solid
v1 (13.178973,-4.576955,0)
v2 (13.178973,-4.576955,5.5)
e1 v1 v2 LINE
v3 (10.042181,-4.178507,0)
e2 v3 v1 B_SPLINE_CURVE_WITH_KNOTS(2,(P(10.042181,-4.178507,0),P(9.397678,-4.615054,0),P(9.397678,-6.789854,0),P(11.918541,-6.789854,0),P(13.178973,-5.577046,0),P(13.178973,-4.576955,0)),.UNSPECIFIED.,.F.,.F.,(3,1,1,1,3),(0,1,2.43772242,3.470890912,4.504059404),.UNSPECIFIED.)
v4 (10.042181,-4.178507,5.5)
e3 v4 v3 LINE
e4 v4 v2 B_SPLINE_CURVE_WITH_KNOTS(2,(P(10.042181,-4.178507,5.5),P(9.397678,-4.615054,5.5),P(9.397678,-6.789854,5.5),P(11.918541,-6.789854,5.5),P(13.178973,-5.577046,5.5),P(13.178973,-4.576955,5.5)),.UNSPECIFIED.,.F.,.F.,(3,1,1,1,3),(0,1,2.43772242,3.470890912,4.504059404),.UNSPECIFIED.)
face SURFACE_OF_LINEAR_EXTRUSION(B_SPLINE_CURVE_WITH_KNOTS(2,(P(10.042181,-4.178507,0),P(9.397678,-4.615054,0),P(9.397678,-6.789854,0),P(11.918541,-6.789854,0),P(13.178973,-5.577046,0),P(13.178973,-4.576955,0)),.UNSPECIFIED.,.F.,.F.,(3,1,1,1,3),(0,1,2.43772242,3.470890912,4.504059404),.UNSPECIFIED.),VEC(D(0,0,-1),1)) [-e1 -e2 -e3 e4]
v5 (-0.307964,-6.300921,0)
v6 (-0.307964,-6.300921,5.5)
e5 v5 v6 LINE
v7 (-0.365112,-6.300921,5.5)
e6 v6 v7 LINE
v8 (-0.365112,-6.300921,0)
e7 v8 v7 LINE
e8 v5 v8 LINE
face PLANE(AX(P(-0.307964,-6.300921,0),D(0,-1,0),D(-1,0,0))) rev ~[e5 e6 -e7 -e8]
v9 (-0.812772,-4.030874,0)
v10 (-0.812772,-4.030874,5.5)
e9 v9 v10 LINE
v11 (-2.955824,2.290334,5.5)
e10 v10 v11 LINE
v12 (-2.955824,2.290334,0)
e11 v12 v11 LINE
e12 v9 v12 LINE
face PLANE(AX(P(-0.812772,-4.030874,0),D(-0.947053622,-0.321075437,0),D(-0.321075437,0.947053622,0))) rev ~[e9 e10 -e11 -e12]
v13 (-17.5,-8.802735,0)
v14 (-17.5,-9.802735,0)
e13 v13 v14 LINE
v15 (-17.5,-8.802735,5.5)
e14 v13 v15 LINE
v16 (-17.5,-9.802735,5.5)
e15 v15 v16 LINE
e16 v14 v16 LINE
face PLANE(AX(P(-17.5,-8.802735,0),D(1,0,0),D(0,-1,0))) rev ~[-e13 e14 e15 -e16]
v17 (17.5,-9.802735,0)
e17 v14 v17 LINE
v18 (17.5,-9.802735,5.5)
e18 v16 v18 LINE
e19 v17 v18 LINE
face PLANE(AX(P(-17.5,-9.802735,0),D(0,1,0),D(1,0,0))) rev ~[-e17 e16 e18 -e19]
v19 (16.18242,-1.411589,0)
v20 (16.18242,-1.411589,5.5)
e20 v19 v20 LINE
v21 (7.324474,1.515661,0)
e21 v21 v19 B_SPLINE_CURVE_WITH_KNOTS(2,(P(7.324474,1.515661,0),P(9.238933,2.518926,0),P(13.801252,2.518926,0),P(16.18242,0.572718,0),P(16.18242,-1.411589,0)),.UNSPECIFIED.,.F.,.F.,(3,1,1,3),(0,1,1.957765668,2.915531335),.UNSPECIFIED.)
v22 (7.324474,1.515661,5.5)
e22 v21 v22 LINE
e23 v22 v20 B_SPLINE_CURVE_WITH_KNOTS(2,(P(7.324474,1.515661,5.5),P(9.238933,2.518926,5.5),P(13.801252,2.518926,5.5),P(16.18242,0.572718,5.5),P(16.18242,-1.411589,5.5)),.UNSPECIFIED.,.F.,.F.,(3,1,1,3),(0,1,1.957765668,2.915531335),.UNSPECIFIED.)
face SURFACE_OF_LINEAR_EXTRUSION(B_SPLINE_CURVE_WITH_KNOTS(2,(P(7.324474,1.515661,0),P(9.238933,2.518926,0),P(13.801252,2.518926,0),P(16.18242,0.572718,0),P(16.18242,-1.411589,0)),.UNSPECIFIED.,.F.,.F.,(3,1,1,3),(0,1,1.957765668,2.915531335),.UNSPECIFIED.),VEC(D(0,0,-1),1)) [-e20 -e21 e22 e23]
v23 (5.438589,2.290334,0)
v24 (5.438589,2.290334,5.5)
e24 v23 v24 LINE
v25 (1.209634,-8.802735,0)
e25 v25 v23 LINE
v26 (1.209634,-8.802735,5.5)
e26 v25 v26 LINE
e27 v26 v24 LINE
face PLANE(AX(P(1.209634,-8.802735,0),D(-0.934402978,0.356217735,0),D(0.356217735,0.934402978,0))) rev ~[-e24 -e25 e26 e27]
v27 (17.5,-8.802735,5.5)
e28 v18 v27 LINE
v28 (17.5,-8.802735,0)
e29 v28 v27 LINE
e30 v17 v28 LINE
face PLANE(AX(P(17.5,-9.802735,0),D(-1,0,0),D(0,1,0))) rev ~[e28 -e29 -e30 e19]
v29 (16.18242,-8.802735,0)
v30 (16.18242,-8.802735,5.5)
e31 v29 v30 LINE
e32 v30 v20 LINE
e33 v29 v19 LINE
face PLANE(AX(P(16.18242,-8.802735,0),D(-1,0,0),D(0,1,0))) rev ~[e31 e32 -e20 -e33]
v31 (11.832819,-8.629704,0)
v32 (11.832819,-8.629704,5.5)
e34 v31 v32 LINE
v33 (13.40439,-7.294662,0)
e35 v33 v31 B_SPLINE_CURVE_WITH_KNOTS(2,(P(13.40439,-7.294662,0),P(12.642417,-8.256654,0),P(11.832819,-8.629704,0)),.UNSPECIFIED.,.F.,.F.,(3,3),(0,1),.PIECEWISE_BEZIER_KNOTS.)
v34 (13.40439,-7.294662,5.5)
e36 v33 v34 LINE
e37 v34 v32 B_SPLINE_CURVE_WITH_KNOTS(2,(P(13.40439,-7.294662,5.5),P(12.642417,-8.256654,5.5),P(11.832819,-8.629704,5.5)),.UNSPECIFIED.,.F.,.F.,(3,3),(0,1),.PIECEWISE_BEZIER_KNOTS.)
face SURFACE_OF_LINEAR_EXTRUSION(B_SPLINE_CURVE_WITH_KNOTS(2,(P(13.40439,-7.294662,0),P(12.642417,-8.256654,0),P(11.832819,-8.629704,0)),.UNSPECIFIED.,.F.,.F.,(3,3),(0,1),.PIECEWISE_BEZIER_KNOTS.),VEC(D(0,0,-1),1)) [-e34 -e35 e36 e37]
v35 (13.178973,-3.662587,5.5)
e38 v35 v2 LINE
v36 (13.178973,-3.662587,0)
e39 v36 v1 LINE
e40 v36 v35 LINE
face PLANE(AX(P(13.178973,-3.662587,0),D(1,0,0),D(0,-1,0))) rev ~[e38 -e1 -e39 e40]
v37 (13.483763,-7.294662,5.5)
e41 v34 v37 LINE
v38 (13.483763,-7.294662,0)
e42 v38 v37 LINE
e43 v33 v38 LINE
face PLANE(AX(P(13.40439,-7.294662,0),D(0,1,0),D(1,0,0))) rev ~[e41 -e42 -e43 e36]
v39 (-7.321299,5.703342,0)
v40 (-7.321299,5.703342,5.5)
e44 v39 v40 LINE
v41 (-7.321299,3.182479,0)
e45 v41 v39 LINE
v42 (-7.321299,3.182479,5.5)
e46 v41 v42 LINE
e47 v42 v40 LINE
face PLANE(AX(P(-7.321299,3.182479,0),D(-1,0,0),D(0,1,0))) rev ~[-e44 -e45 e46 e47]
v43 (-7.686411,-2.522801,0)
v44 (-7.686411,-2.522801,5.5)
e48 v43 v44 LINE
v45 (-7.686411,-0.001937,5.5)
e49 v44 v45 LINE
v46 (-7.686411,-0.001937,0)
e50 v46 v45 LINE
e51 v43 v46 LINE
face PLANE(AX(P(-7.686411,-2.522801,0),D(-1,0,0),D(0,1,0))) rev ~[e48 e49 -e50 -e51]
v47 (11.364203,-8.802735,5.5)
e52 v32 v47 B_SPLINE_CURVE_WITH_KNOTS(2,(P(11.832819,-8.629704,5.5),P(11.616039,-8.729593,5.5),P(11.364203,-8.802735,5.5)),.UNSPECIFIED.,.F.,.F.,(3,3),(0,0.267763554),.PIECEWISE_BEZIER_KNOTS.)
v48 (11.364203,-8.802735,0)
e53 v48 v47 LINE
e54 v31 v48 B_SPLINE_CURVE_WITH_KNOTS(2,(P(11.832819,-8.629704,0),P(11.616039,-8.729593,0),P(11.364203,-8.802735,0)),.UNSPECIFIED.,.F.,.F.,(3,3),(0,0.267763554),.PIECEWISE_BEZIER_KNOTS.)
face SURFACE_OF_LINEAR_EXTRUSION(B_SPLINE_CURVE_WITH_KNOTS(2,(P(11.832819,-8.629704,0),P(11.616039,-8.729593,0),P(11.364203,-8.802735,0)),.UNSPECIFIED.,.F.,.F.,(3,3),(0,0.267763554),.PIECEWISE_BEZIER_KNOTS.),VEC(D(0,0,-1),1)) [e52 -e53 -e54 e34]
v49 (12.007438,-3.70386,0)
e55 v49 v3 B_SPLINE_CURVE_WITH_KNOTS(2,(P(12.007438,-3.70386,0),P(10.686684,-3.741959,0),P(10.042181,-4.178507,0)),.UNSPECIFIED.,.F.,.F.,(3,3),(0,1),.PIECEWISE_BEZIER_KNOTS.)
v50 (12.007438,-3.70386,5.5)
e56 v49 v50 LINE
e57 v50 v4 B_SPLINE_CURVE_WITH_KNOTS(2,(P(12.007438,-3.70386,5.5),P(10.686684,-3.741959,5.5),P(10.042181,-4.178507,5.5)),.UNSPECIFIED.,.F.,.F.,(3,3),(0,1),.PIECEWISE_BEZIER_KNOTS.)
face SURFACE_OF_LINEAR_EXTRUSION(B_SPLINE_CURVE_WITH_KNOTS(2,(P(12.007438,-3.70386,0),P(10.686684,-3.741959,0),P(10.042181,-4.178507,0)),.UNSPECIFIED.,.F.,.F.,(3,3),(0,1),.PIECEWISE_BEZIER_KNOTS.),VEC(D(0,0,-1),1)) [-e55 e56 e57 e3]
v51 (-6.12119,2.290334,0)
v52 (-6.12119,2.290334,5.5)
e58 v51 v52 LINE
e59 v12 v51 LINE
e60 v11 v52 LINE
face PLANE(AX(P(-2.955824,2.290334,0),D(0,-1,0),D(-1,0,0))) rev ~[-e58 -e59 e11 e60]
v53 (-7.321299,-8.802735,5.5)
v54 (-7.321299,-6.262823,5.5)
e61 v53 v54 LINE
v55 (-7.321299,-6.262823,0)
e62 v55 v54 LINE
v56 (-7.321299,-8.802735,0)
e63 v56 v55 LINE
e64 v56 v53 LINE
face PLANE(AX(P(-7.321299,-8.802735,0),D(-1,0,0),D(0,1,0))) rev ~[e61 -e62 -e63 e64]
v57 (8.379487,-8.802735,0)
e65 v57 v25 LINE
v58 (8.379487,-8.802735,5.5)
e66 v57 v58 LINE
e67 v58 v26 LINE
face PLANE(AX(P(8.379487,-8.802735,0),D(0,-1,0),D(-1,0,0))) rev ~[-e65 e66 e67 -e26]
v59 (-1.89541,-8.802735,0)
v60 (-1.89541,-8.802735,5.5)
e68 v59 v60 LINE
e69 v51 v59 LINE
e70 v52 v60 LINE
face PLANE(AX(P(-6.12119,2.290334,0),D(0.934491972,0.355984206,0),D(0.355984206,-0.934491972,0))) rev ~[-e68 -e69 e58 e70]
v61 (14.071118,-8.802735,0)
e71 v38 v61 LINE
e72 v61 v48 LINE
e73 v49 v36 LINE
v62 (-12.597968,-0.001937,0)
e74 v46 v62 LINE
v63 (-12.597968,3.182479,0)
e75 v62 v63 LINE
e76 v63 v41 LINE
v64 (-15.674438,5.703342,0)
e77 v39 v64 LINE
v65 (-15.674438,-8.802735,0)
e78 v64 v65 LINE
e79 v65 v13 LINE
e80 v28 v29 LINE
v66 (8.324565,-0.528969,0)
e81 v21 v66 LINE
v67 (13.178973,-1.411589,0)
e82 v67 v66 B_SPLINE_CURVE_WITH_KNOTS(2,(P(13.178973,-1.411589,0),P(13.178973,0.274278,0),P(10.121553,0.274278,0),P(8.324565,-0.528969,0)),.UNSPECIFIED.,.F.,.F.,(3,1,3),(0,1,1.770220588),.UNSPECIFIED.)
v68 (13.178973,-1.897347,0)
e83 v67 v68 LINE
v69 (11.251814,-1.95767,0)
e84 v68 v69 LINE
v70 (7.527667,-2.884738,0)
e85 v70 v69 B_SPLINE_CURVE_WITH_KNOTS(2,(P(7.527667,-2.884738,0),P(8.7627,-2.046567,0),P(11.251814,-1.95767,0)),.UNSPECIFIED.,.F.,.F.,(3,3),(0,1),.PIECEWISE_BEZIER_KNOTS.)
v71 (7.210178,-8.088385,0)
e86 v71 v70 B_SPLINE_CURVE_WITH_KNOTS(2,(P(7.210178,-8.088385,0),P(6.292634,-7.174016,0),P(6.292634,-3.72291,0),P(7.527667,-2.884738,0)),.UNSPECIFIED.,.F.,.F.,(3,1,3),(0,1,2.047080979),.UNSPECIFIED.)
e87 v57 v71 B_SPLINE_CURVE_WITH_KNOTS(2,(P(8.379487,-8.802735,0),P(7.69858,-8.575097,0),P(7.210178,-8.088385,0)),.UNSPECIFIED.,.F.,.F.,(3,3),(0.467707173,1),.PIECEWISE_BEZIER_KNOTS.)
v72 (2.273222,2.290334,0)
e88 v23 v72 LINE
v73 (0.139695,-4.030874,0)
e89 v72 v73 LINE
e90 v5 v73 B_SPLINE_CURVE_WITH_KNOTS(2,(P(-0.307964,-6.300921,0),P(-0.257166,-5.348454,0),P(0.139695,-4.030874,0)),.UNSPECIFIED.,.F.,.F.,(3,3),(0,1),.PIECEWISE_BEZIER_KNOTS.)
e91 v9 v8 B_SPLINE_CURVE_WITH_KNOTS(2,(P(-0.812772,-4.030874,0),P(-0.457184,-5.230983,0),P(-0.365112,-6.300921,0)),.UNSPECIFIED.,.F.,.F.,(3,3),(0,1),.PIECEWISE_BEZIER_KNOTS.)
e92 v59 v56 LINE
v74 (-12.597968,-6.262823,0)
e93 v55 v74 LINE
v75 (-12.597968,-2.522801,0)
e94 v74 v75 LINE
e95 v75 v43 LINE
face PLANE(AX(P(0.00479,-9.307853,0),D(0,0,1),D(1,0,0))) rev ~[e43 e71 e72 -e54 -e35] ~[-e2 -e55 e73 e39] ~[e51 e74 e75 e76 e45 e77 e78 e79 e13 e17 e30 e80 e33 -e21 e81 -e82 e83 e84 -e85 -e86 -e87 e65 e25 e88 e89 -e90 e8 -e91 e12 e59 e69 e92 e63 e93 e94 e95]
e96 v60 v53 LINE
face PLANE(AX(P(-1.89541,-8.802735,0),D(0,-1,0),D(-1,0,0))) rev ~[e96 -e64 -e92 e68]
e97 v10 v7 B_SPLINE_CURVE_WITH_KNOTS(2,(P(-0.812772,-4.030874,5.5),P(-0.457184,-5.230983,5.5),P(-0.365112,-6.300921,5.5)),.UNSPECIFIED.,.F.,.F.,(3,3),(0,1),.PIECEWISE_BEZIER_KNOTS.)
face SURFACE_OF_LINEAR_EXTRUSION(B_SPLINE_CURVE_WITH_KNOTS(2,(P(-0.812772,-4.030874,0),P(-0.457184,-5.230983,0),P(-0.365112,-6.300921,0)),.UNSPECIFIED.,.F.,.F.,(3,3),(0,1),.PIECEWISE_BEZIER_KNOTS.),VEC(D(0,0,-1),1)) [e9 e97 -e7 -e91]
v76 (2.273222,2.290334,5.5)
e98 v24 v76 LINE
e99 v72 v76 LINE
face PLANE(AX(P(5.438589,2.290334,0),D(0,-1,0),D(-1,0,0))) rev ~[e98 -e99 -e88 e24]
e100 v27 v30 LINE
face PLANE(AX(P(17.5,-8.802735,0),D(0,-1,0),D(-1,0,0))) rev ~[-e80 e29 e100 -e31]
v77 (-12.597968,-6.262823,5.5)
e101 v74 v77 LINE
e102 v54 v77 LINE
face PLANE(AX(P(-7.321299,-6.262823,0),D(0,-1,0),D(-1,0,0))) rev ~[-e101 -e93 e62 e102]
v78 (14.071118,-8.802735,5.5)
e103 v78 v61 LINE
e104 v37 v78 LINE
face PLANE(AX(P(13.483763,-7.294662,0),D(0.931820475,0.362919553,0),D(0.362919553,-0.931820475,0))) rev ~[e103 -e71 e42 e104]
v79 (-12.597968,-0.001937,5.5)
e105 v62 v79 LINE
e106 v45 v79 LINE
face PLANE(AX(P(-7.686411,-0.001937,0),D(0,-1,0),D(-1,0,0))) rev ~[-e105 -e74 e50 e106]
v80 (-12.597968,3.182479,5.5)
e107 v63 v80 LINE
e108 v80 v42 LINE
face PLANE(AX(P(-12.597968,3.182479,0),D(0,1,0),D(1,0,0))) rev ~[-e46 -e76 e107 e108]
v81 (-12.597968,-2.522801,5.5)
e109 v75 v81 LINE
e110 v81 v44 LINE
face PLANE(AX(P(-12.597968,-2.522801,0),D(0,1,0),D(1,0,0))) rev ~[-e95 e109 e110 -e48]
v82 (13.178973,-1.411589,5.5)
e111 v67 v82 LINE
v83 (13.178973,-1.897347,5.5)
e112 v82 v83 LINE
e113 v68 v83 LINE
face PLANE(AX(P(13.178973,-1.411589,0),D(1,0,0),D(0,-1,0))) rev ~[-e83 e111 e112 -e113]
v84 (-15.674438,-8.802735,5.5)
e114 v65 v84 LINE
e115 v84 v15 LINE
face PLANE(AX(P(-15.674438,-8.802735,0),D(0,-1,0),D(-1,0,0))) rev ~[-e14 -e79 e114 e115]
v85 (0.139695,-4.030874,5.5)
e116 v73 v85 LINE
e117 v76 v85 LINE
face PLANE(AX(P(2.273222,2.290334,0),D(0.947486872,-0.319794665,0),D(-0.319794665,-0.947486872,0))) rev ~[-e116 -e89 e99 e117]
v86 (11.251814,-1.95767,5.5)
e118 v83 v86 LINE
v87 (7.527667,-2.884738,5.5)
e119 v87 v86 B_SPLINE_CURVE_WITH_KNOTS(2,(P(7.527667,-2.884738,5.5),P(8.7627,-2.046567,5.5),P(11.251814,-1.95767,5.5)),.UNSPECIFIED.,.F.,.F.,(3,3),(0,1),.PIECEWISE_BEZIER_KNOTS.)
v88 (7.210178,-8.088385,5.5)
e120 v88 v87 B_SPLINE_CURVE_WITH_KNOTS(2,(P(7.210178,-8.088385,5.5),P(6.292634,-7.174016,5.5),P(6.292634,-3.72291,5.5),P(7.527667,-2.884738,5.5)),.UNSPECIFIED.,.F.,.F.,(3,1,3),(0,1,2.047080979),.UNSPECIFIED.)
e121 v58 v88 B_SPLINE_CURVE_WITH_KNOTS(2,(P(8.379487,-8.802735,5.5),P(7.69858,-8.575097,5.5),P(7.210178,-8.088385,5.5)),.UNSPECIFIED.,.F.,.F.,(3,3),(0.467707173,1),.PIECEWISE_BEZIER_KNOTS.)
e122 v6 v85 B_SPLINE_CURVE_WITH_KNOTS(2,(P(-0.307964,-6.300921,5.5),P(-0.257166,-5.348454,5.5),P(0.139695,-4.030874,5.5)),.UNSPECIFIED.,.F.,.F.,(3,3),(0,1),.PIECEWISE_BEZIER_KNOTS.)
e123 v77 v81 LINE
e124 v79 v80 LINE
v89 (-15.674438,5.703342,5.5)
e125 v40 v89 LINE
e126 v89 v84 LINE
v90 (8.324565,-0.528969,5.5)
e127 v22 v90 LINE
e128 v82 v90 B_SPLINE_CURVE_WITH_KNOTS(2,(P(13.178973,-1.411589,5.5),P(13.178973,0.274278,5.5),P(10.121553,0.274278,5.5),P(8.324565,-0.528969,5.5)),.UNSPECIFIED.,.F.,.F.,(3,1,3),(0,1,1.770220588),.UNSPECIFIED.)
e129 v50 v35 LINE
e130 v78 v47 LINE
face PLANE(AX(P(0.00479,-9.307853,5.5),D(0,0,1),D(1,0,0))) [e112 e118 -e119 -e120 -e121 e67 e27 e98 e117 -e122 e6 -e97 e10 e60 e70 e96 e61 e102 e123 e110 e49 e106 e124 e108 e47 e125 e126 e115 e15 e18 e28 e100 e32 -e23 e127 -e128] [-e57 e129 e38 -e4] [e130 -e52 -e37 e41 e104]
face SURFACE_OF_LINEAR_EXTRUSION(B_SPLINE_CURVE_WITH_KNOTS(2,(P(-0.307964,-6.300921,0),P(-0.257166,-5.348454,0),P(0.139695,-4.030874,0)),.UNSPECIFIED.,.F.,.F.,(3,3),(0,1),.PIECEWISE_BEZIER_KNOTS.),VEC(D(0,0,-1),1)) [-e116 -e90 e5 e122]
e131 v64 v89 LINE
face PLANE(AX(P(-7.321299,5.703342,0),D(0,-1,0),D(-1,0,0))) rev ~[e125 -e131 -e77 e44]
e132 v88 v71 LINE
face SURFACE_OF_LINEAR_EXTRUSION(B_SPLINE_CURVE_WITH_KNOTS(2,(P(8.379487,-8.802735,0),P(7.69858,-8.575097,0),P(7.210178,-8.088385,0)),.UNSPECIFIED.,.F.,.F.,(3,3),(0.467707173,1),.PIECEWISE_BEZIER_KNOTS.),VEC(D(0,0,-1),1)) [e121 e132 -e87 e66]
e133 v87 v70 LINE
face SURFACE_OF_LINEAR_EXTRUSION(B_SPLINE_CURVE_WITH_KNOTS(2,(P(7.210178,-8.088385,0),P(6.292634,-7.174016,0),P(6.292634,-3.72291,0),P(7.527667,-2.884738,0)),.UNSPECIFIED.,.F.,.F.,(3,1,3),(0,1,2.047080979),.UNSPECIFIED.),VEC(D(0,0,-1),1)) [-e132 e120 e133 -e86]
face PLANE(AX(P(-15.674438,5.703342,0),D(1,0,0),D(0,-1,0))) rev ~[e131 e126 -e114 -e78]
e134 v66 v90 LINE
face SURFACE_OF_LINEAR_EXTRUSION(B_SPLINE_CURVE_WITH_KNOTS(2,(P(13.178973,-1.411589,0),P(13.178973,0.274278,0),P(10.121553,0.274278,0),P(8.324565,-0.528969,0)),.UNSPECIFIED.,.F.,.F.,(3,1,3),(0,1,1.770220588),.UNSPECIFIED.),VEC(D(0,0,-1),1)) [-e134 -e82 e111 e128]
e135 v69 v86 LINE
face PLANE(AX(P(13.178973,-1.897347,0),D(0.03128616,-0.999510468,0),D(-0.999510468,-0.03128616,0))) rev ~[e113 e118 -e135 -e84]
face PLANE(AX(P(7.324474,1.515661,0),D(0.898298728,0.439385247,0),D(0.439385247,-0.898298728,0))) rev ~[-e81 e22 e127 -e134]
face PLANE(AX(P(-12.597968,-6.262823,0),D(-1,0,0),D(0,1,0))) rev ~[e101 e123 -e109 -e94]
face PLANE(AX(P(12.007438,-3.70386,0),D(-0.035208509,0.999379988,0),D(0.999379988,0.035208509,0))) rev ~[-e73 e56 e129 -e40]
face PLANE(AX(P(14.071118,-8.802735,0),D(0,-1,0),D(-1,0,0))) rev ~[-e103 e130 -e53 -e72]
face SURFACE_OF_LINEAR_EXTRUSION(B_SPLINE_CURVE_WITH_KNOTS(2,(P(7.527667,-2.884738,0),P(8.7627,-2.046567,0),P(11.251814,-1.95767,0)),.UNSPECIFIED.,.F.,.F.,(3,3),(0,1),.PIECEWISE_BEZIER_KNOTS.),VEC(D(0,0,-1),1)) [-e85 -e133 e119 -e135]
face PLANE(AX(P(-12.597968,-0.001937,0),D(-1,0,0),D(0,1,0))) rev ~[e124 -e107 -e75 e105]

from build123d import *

# Parameters (mm, degrees)
F1_DEPTH = 5.5
F2_DEPTH = 5


with BuildPart() as f1:
    # F0 (on Top) → F1 (new body)
    with BuildSketch(Plane.XY):
        with BuildLine():
            Line((-15.6744375907, -8.8027354735), (-17.5, -8.8027354735))
            Line((-17.5, -8.8027354735), (-17.5, -9.8027354735))
            Line((-17.5, -9.8027354735), (17.5, -9.8027354735))
            Line((17.5, -9.8027354735), (17.5, -8.8027354735))
            Line((17.5, -8.8027354735), (16.1824201742, -8.8027354735))
            Line((16.1824201742, -8.8027354735), (14.0711175617, -8.8027354735))
            Line((14.0711175617, -8.8027354735), (11.3642028302, -8.8027354735))
            add(Edge.make_bspline(
                [(11.3642028302, -8.8027354735), (10.6755229249, -9.0027536157), (9.724691582, -9.0027536157)],
                knots=[0.2677635541, 0.2677635541, 0.2677635541, 1, 1, 1], degree=2))
            add(Edge.make_bspline(
                [(9.724691582, -9.0027536157), (8.977777142, -9.0027536157), (8.3794872938, -8.8027354735)],
                knots=[0, 0, 0, 0.4677071733, 0.4677071733, 0.4677071733], degree=2))
            Line((8.3794872938, -8.8027354735), (1.2096335269, -8.8027354735))
            Line((1.2096335269, -8.8027354735), (-1.8954100145, -8.8027354735))
            Line((-1.8954100145, -8.8027354735), (-7.321298984, -8.8027354735))
            Line((-7.321298984, -8.8027354735), (-15.6744375907, -8.8027354735))
        make_face()
        Polygon((-15.6744375907, 5.7033421753), (-15.6744375907, -8.8027354735), (-7.321298984, -8.8027354735), (-7.321298984, -6.2628225562), (-12.5979680697, -6.2628225562), (-12.5979680697, -2.5228007856), (-7.6864114659, -2.5228007856), (-7.6864114659, -0.0019372152), (-12.5979680697, -0.0019372152), (-12.5979680697, 3.1824786049), (-7.321298984, 3.1824786049), (-7.321298984, 5.7033421753), align=None)
        with BuildLine():
            Line((-6.1211901306, 2.2903341927), (-1.8954100145, -8.8027354735))
            Line((-1.8954100145, -8.8027354735), (1.2096335269, -8.8027354735))
            Line((1.2096335269, -8.8027354735), (5.4385885341, 2.2903341927))
            Line((5.4385885341, 2.2903341927), (2.273222061, 2.2903341927))
            Line((2.273222061, 2.2903341927), (0.1396952104, -4.0308740802))
            add(Edge.make_bspline(
                [(-0.3079644412, -6.30092125), (-0.2571661829, -5.348453906), (0.1396952104, -4.0308740802)],
                knots=[0, 0, 0, 1, 1, 1], degree=2))
            Line((-0.3079644412, -6.30092125), (-0.3651124819, -6.30092125))
            add(Edge.make_bspline(
                [(-0.8127721335, -4.0308740802), (-0.4571843251, -5.2309829336), (-0.3651124819, -6.30092125)],
                knots=[0, 0, 0, 1, 1, 1], degree=2))
            Line((-0.8127721335, -4.0308740802), (-2.9558236575, 2.2903341927))
            Line((-2.9558236575, 2.2903341927), (-6.1211901306, 2.2903341927))
        make_face()
        with BuildLine():
            Line((14.0711175617, -8.8027354735), (16.1824201742, -8.8027354735))
            Line((16.1824201742, -8.8027354735), (16.1824201742, -1.4115888843))
            add(Edge.make_bspline(
                [(14.9918359942, 1.5458222188), (16.1824201742, 0.5727180824), (16.1824201742, -1.4115888843)],
                knots=[0, 0, 0, 1, 1, 1], degree=2))
            add(Edge.make_bspline(
                [(11.5693033382, 2.5189263552), (13.8012518142, 2.5189263552), (14.9918359942, 1.5458222188)],
                knots=[0, 0, 0, 1, 1, 1], degree=2))
            add(Edge.make_bspline(
                [(7.3244738752, 1.5156607529), (9.2389332366, 2.5189263552), (11.5693033382, 2.5189263552)],
                knots=[0, 0, 0, 1, 1, 1], degree=2))
            Line((7.3244738752, 1.5156607529), (8.3245645864, -0.5289691455))
            add(Edge.make_bspline(
                [(11.4518323657, 0.2742783146), (10.1215529753, 0.2742783146), (8.3245645864, -0.5289691455)],
                knots=[0, 0, 0, 1, 1, 1], degree=2))
            add(Edge.make_bspline(
                [(13.1789731495, -1.4115888843), (13.1789731495, 0.2742783146), (11.4518323657, 0.2742783146)],
                knots=[0, 0, 0, 1, 1, 1], degree=2))
            Line((13.1789731495, -1.4115888843), (13.1789731495, -1.8973472297))
            Line((13.1789731495, -1.8973472297), (11.2518142235, -1.9576701615))
            add(Edge.make_bspline(
                [(7.5276669086, -2.8847383763), (8.7626995646, -2.0465671136), (11.2518142235, -1.9576701615)],
                knots=[0, 0, 0, 1, 1, 1], degree=2))
            add(Edge.make_bspline(
                [(6.2926342525, -5.4881491165), (6.2926342525, -3.722909639), (7.5276669086, -2.8847383763)],
                knots=[0, 0, 0, 1, 1, 1], degree=2))
            add(Edge.make_bspline(
                [(7.2101777939, -8.0883849655), (6.2926342525, -7.1740163153), (6.2926342525, -5.4881491165)],
                knots=[0, 0, 0, 1, 1, 1], degree=2))
            add(Edge.make_bspline(
                [(8.3794872938, -8.8027354735), (7.6985796391, -8.575096839), (7.2101777939, -8.0883849655)],
                knots=[0.4677071733, 0.4677071733, 0.4677071733, 1, 1, 1], degree=2))
            Line((8.3794872938, -8.8027354735), (11.3642028302, -8.8027354735))
            add(Edge.make_bspline(
                [(11.8328193033, -8.629703906), (11.6160386684, -8.7295930221), (11.3642028302, -8.8027354735)],
                knots=[0, 0, 0, 0.2677635541, 0.2677635541, 0.2677635541], degree=2))
            add(Edge.make_bspline(
                [(13.4043904209, -7.2946621789), (12.6424165457, -8.2566541963), (11.8328193033, -8.629703906)],
                knots=[0, 0, 0, 1, 1, 1], degree=2))
            Line((13.4043904209, -7.2946621789), (13.4837626996, -7.2946621789))
            Line((13.4837626996, -7.2946621789), (14.0711175617, -8.8027354735))
        make_face()
        with BuildLine():
            Line((12.0074383164, -3.7038602921), (13.1789731495, -3.6625867072))
            Line((13.1789731495, -3.6625867072), (13.1789731495, -4.5769553574))
            add(Edge.make_bspline(
                [(12.5487572569, -6.1834502776), (13.1789731495, -5.5770460686), (13.1789731495, -4.5769553574)],
                knots=[0, 0, 0, 1, 1, 1], degree=2))
            add(Edge.make_bspline(
                [(10.8644775036, -6.7898544866), (11.9185413643, -6.7898544866), (12.5487572569, -6.1834502776)],
                knots=[0, 0, 0, 1, 1, 1], degree=2))
            add(Edge.make_bspline(
                [(9.3976777939, -5.5071984634), (9.3976777939, -6.7898544866), (10.8644775036, -6.7898544866)],
                knots=[0, 0, 0, 1, 1, 1], degree=2))
            add(Edge.make_bspline(
                [(10.0421806967, -4.1785065185), (9.3976777939, -4.6150540512), (9.3976777939, -5.5071984634)],
                knots=[0, 0, 0, 1, 1, 1], degree=2))
            add(Edge.make_bspline(
                [(12.0074383164, -3.7038602921), (10.6866835994, -3.7419589859), (10.0421806967, -4.1785065185)],
                knots=[0, 0, 0, 1, 1, 1], degree=2))
        make_face(mode=Mode.SUBTRACT)
        with BuildLine():
            Line((11.3642028302, -8.8027354735), (8.3794872938, -8.8027354735))
            add(Edge.make_bspline(
                [(9.724691582, -9.0027536157), (8.977777142, -9.0027536157), (8.3794872938, -8.8027354735)],
                knots=[0, 0, 0, 0.4677071733, 0.4677071733, 0.4677071733], degree=2))
            add(Edge.make_bspline(
                [(11.3642028302, -8.8027354735), (10.6755229249, -9.0027536157), (9.724691582, -9.0027536157)],
                knots=[0.2677635541, 0.2677635541, 0.2677635541, 1, 1, 1], degree=2))
        make_face()
    extrude(amount=F1_DEPTH)

    # F0 (on Top) → F2 (join)
    with BuildSketch(Plane.XY):
        with BuildLine():
            Line((-15.6744375907, -8.8027354735), (-17.5, -8.8027354735))
            Line((-17.5, -8.8027354735), (-17.5, -9.8027354735))
            Line((-17.5, -9.8027354735), (17.5, -9.8027354735))
            Line((17.5, -9.8027354735), (17.5, -8.8027354735))
            Line((17.5, -8.8027354735), (16.1824201742, -8.8027354735))
            Line((16.1824201742, -8.8027354735), (14.0711175617, -8.8027354735))
            Line((14.0711175617, -8.8027354735), (11.3642028302, -8.8027354735))
            add(Edge.make_bspline(
                [(11.3642028302, -8.8027354735), (10.6755229249, -9.0027536157), (9.724691582, -9.0027536157)],
                knots=[0.2677635541, 0.2677635541, 0.2677635541, 1, 1, 1], degree=2))
            add(Edge.make_bspline(
                [(9.724691582, -9.0027536157), (8.977777142, -9.0027536157), (8.3794872938, -8.8027354735)],
                knots=[0, 0, 0, 0.4677071733, 0.4677071733, 0.4677071733], degree=2))
            Line((8.3794872938, -8.8027354735), (1.2096335269, -8.8027354735))
            Line((1.2096335269, -8.8027354735), (-1.8954100145, -8.8027354735))
            Line((-1.8954100145, -8.8027354735), (-7.321298984, -8.8027354735))
            Line((-7.321298984, -8.8027354735), (-15.6744375907, -8.8027354735))
        make_face()
        Polygon((-15.6744375907, 5.7033421753), (-15.6744375907, -8.8027354735), (-7.321298984, -8.8027354735), (-7.321298984, -6.2628225562), (-12.5979680697, -6.2628225562), (-12.5979680697, -2.5228007856), (-7.6864114659, -2.5228007856), (-7.6864114659, -0.0019372152), (-12.5979680697, -0.0019372152), (-12.5979680697, 3.1824786049), (-7.321298984, 3.1824786049), (-7.321298984, 5.7033421753), align=None)
        with BuildLine():
            Line((-6.1211901306, 2.2903341927), (-1.8954100145, -8.8027354735))
            Line((-1.8954100145, -8.8027354735), (1.2096335269, -8.8027354735))
            Line((1.2096335269, -8.8027354735), (5.4385885341, 2.2903341927))
            Line((5.4385885341, 2.2903341927), (2.273222061, 2.2903341927))
            Line((2.273222061, 2.2903341927), (0.1396952104, -4.0308740802))
            add(Edge.make_bspline(
                [(-0.3079644412, -6.30092125), (-0.2571661829, -5.348453906), (0.1396952104, -4.0308740802)],
                knots=[0, 0, 0, 1, 1, 1], degree=2))
            Line((-0.3079644412, -6.30092125), (-0.3651124819, -6.30092125))
            add(Edge.make_bspline(
                [(-0.8127721335, -4.0308740802), (-0.4571843251, -5.2309829336), (-0.3651124819, -6.30092125)],
                knots=[0, 0, 0, 1, 1, 1], degree=2))
            Line((-0.8127721335, -4.0308740802), (-2.9558236575, 2.2903341927))
            Line((-2.9558236575, 2.2903341927), (-6.1211901306, 2.2903341927))
        make_face()
        with BuildLine():
            Line((14.0711175617, -8.8027354735), (16.1824201742, -8.8027354735))
            Line((16.1824201742, -8.8027354735), (16.1824201742, -1.4115888843))
            add(Edge.make_bspline(
                [(14.9918359942, 1.5458222188), (16.1824201742, 0.5727180824), (16.1824201742, -1.4115888843)],
                knots=[0, 0, 0, 1, 1, 1], degree=2))
            add(Edge.make_bspline(
                [(11.5693033382, 2.5189263552), (13.8012518142, 2.5189263552), (14.9918359942, 1.5458222188)],
                knots=[0, 0, 0, 1, 1, 1], degree=2))
            add(Edge.make_bspline(
                [(7.3244738752, 1.5156607529), (9.2389332366, 2.5189263552), (11.5693033382, 2.5189263552)],
                knots=[0, 0, 0, 1, 1, 1], degree=2))
            Line((7.3244738752, 1.5156607529), (8.3245645864, -0.5289691455))
            add(Edge.make_bspline(
                [(11.4518323657, 0.2742783146), (10.1215529753, 0.2742783146), (8.3245645864, -0.5289691455)],
                knots=[0, 0, 0, 1, 1, 1], degree=2))
            add(Edge.make_bspline(
                [(13.1789731495, -1.4115888843), (13.1789731495, 0.2742783146), (11.4518323657, 0.2742783146)],
                knots=[0, 0, 0, 1, 1, 1], degree=2))
            Line((13.1789731495, -1.4115888843), (13.1789731495, -1.8973472297))
            Line((13.1789731495, -1.8973472297), (11.2518142235, -1.9576701615))
            add(Edge.make_bspline(
                [(7.5276669086, -2.8847383763), (8.7626995646, -2.0465671136), (11.2518142235, -1.9576701615)],
                knots=[0, 0, 0, 1, 1, 1], degree=2))
            add(Edge.make_bspline(
                [(6.2926342525, -5.4881491165), (6.2926342525, -3.722909639), (7.5276669086, -2.8847383763)],
                knots=[0, 0, 0, 1, 1, 1], degree=2))
            add(Edge.make_bspline(
                [(7.2101777939, -8.0883849655), (6.2926342525, -7.1740163153), (6.2926342525, -5.4881491165)],
                knots=[0, 0, 0, 1, 1, 1], degree=2))
            add(Edge.make_bspline(
                [(8.3794872938, -8.8027354735), (7.6985796391, -8.575096839), (7.2101777939, -8.0883849655)],
                knots=[0.4677071733, 0.4677071733, 0.4677071733, 1, 1, 1], degree=2))
            Line((8.3794872938, -8.8027354735), (11.3642028302, -8.8027354735))
            add(Edge.make_bspline(
                [(11.8328193033, -8.629703906), (11.6160386684, -8.7295930221), (11.3642028302, -8.8027354735)],
                knots=[0, 0, 0, 0.2677635541, 0.2677635541, 0.2677635541], degree=2))
            add(Edge.make_bspline(
                [(13.4043904209, -7.2946621789), (12.6424165457, -8.2566541963), (11.8328193033, -8.629703906)],
                knots=[0, 0, 0, 1, 1, 1], degree=2))
            Line((13.4043904209, -7.2946621789), (13.4837626996, -7.2946621789))
            Line((13.4837626996, -7.2946621789), (14.0711175617, -8.8027354735))
        make_face()
        with BuildLine():
            Line((12.0074383164, -3.7038602921), (13.1789731495, -3.6625867072))
            Line((13.1789731495, -3.6625867072), (13.1789731495, -4.5769553574))
            add(Edge.make_bspline(
                [(12.5487572569, -6.1834502776), (13.1789731495, -5.5770460686), (13.1789731495, -4.5769553574)],
                knots=[0, 0, 0, 1, 1, 1], degree=2))
            add(Edge.make_bspline(
                [(10.8644775036, -6.7898544866), (11.9185413643, -6.7898544866), (12.5487572569, -6.1834502776)],
                knots=[0, 0, 0, 1, 1, 1], degree=2))
            add(Edge.make_bspline(
                [(9.3976777939, -5.5071984634), (9.3976777939, -6.7898544866), (10.8644775036, -6.7898544866)],
                knots=[0, 0, 0, 1, 1, 1], degree=2))
            add(Edge.make_bspline(
                [(10.0421806967, -4.1785065185), (9.3976777939, -4.6150540512), (9.3976777939, -5.5071984634)],
                knots=[0, 0, 0, 1, 1, 1], degree=2))
            add(Edge.make_bspline(
                [(12.0074383164, -3.7038602921), (10.6866835994, -3.7419589859), (10.0421806967, -4.1785065185)],
                knots=[0, 0, 0, 1, 1, 1], degree=2))
        make_face(mode=Mode.SUBTRACT)
        with BuildLine():
            Line((11.3642028302, -8.8027354735), (8.3794872938, -8.8027354735))
            add(Edge.make_bspline(
                [(9.724691582, -9.0027536157), (8.977777142, -9.0027536157), (8.3794872938, -8.8027354735)],
                knots=[0, 0, 0, 0.4677071733, 0.4677071733, 0.4677071733], degree=2))
            add(Edge.make_bspline(
                [(11.3642028302, -8.8027354735), (10.6755229249, -9.0027536157), (9.724691582, -9.0027536157)],
                knots=[0.2677635541, 0.2677635541, 0.2677635541, 1, 1, 1], degree=2))
        make_face()
    extrude(amount=F2_DEPTH)


solid = f1.part
